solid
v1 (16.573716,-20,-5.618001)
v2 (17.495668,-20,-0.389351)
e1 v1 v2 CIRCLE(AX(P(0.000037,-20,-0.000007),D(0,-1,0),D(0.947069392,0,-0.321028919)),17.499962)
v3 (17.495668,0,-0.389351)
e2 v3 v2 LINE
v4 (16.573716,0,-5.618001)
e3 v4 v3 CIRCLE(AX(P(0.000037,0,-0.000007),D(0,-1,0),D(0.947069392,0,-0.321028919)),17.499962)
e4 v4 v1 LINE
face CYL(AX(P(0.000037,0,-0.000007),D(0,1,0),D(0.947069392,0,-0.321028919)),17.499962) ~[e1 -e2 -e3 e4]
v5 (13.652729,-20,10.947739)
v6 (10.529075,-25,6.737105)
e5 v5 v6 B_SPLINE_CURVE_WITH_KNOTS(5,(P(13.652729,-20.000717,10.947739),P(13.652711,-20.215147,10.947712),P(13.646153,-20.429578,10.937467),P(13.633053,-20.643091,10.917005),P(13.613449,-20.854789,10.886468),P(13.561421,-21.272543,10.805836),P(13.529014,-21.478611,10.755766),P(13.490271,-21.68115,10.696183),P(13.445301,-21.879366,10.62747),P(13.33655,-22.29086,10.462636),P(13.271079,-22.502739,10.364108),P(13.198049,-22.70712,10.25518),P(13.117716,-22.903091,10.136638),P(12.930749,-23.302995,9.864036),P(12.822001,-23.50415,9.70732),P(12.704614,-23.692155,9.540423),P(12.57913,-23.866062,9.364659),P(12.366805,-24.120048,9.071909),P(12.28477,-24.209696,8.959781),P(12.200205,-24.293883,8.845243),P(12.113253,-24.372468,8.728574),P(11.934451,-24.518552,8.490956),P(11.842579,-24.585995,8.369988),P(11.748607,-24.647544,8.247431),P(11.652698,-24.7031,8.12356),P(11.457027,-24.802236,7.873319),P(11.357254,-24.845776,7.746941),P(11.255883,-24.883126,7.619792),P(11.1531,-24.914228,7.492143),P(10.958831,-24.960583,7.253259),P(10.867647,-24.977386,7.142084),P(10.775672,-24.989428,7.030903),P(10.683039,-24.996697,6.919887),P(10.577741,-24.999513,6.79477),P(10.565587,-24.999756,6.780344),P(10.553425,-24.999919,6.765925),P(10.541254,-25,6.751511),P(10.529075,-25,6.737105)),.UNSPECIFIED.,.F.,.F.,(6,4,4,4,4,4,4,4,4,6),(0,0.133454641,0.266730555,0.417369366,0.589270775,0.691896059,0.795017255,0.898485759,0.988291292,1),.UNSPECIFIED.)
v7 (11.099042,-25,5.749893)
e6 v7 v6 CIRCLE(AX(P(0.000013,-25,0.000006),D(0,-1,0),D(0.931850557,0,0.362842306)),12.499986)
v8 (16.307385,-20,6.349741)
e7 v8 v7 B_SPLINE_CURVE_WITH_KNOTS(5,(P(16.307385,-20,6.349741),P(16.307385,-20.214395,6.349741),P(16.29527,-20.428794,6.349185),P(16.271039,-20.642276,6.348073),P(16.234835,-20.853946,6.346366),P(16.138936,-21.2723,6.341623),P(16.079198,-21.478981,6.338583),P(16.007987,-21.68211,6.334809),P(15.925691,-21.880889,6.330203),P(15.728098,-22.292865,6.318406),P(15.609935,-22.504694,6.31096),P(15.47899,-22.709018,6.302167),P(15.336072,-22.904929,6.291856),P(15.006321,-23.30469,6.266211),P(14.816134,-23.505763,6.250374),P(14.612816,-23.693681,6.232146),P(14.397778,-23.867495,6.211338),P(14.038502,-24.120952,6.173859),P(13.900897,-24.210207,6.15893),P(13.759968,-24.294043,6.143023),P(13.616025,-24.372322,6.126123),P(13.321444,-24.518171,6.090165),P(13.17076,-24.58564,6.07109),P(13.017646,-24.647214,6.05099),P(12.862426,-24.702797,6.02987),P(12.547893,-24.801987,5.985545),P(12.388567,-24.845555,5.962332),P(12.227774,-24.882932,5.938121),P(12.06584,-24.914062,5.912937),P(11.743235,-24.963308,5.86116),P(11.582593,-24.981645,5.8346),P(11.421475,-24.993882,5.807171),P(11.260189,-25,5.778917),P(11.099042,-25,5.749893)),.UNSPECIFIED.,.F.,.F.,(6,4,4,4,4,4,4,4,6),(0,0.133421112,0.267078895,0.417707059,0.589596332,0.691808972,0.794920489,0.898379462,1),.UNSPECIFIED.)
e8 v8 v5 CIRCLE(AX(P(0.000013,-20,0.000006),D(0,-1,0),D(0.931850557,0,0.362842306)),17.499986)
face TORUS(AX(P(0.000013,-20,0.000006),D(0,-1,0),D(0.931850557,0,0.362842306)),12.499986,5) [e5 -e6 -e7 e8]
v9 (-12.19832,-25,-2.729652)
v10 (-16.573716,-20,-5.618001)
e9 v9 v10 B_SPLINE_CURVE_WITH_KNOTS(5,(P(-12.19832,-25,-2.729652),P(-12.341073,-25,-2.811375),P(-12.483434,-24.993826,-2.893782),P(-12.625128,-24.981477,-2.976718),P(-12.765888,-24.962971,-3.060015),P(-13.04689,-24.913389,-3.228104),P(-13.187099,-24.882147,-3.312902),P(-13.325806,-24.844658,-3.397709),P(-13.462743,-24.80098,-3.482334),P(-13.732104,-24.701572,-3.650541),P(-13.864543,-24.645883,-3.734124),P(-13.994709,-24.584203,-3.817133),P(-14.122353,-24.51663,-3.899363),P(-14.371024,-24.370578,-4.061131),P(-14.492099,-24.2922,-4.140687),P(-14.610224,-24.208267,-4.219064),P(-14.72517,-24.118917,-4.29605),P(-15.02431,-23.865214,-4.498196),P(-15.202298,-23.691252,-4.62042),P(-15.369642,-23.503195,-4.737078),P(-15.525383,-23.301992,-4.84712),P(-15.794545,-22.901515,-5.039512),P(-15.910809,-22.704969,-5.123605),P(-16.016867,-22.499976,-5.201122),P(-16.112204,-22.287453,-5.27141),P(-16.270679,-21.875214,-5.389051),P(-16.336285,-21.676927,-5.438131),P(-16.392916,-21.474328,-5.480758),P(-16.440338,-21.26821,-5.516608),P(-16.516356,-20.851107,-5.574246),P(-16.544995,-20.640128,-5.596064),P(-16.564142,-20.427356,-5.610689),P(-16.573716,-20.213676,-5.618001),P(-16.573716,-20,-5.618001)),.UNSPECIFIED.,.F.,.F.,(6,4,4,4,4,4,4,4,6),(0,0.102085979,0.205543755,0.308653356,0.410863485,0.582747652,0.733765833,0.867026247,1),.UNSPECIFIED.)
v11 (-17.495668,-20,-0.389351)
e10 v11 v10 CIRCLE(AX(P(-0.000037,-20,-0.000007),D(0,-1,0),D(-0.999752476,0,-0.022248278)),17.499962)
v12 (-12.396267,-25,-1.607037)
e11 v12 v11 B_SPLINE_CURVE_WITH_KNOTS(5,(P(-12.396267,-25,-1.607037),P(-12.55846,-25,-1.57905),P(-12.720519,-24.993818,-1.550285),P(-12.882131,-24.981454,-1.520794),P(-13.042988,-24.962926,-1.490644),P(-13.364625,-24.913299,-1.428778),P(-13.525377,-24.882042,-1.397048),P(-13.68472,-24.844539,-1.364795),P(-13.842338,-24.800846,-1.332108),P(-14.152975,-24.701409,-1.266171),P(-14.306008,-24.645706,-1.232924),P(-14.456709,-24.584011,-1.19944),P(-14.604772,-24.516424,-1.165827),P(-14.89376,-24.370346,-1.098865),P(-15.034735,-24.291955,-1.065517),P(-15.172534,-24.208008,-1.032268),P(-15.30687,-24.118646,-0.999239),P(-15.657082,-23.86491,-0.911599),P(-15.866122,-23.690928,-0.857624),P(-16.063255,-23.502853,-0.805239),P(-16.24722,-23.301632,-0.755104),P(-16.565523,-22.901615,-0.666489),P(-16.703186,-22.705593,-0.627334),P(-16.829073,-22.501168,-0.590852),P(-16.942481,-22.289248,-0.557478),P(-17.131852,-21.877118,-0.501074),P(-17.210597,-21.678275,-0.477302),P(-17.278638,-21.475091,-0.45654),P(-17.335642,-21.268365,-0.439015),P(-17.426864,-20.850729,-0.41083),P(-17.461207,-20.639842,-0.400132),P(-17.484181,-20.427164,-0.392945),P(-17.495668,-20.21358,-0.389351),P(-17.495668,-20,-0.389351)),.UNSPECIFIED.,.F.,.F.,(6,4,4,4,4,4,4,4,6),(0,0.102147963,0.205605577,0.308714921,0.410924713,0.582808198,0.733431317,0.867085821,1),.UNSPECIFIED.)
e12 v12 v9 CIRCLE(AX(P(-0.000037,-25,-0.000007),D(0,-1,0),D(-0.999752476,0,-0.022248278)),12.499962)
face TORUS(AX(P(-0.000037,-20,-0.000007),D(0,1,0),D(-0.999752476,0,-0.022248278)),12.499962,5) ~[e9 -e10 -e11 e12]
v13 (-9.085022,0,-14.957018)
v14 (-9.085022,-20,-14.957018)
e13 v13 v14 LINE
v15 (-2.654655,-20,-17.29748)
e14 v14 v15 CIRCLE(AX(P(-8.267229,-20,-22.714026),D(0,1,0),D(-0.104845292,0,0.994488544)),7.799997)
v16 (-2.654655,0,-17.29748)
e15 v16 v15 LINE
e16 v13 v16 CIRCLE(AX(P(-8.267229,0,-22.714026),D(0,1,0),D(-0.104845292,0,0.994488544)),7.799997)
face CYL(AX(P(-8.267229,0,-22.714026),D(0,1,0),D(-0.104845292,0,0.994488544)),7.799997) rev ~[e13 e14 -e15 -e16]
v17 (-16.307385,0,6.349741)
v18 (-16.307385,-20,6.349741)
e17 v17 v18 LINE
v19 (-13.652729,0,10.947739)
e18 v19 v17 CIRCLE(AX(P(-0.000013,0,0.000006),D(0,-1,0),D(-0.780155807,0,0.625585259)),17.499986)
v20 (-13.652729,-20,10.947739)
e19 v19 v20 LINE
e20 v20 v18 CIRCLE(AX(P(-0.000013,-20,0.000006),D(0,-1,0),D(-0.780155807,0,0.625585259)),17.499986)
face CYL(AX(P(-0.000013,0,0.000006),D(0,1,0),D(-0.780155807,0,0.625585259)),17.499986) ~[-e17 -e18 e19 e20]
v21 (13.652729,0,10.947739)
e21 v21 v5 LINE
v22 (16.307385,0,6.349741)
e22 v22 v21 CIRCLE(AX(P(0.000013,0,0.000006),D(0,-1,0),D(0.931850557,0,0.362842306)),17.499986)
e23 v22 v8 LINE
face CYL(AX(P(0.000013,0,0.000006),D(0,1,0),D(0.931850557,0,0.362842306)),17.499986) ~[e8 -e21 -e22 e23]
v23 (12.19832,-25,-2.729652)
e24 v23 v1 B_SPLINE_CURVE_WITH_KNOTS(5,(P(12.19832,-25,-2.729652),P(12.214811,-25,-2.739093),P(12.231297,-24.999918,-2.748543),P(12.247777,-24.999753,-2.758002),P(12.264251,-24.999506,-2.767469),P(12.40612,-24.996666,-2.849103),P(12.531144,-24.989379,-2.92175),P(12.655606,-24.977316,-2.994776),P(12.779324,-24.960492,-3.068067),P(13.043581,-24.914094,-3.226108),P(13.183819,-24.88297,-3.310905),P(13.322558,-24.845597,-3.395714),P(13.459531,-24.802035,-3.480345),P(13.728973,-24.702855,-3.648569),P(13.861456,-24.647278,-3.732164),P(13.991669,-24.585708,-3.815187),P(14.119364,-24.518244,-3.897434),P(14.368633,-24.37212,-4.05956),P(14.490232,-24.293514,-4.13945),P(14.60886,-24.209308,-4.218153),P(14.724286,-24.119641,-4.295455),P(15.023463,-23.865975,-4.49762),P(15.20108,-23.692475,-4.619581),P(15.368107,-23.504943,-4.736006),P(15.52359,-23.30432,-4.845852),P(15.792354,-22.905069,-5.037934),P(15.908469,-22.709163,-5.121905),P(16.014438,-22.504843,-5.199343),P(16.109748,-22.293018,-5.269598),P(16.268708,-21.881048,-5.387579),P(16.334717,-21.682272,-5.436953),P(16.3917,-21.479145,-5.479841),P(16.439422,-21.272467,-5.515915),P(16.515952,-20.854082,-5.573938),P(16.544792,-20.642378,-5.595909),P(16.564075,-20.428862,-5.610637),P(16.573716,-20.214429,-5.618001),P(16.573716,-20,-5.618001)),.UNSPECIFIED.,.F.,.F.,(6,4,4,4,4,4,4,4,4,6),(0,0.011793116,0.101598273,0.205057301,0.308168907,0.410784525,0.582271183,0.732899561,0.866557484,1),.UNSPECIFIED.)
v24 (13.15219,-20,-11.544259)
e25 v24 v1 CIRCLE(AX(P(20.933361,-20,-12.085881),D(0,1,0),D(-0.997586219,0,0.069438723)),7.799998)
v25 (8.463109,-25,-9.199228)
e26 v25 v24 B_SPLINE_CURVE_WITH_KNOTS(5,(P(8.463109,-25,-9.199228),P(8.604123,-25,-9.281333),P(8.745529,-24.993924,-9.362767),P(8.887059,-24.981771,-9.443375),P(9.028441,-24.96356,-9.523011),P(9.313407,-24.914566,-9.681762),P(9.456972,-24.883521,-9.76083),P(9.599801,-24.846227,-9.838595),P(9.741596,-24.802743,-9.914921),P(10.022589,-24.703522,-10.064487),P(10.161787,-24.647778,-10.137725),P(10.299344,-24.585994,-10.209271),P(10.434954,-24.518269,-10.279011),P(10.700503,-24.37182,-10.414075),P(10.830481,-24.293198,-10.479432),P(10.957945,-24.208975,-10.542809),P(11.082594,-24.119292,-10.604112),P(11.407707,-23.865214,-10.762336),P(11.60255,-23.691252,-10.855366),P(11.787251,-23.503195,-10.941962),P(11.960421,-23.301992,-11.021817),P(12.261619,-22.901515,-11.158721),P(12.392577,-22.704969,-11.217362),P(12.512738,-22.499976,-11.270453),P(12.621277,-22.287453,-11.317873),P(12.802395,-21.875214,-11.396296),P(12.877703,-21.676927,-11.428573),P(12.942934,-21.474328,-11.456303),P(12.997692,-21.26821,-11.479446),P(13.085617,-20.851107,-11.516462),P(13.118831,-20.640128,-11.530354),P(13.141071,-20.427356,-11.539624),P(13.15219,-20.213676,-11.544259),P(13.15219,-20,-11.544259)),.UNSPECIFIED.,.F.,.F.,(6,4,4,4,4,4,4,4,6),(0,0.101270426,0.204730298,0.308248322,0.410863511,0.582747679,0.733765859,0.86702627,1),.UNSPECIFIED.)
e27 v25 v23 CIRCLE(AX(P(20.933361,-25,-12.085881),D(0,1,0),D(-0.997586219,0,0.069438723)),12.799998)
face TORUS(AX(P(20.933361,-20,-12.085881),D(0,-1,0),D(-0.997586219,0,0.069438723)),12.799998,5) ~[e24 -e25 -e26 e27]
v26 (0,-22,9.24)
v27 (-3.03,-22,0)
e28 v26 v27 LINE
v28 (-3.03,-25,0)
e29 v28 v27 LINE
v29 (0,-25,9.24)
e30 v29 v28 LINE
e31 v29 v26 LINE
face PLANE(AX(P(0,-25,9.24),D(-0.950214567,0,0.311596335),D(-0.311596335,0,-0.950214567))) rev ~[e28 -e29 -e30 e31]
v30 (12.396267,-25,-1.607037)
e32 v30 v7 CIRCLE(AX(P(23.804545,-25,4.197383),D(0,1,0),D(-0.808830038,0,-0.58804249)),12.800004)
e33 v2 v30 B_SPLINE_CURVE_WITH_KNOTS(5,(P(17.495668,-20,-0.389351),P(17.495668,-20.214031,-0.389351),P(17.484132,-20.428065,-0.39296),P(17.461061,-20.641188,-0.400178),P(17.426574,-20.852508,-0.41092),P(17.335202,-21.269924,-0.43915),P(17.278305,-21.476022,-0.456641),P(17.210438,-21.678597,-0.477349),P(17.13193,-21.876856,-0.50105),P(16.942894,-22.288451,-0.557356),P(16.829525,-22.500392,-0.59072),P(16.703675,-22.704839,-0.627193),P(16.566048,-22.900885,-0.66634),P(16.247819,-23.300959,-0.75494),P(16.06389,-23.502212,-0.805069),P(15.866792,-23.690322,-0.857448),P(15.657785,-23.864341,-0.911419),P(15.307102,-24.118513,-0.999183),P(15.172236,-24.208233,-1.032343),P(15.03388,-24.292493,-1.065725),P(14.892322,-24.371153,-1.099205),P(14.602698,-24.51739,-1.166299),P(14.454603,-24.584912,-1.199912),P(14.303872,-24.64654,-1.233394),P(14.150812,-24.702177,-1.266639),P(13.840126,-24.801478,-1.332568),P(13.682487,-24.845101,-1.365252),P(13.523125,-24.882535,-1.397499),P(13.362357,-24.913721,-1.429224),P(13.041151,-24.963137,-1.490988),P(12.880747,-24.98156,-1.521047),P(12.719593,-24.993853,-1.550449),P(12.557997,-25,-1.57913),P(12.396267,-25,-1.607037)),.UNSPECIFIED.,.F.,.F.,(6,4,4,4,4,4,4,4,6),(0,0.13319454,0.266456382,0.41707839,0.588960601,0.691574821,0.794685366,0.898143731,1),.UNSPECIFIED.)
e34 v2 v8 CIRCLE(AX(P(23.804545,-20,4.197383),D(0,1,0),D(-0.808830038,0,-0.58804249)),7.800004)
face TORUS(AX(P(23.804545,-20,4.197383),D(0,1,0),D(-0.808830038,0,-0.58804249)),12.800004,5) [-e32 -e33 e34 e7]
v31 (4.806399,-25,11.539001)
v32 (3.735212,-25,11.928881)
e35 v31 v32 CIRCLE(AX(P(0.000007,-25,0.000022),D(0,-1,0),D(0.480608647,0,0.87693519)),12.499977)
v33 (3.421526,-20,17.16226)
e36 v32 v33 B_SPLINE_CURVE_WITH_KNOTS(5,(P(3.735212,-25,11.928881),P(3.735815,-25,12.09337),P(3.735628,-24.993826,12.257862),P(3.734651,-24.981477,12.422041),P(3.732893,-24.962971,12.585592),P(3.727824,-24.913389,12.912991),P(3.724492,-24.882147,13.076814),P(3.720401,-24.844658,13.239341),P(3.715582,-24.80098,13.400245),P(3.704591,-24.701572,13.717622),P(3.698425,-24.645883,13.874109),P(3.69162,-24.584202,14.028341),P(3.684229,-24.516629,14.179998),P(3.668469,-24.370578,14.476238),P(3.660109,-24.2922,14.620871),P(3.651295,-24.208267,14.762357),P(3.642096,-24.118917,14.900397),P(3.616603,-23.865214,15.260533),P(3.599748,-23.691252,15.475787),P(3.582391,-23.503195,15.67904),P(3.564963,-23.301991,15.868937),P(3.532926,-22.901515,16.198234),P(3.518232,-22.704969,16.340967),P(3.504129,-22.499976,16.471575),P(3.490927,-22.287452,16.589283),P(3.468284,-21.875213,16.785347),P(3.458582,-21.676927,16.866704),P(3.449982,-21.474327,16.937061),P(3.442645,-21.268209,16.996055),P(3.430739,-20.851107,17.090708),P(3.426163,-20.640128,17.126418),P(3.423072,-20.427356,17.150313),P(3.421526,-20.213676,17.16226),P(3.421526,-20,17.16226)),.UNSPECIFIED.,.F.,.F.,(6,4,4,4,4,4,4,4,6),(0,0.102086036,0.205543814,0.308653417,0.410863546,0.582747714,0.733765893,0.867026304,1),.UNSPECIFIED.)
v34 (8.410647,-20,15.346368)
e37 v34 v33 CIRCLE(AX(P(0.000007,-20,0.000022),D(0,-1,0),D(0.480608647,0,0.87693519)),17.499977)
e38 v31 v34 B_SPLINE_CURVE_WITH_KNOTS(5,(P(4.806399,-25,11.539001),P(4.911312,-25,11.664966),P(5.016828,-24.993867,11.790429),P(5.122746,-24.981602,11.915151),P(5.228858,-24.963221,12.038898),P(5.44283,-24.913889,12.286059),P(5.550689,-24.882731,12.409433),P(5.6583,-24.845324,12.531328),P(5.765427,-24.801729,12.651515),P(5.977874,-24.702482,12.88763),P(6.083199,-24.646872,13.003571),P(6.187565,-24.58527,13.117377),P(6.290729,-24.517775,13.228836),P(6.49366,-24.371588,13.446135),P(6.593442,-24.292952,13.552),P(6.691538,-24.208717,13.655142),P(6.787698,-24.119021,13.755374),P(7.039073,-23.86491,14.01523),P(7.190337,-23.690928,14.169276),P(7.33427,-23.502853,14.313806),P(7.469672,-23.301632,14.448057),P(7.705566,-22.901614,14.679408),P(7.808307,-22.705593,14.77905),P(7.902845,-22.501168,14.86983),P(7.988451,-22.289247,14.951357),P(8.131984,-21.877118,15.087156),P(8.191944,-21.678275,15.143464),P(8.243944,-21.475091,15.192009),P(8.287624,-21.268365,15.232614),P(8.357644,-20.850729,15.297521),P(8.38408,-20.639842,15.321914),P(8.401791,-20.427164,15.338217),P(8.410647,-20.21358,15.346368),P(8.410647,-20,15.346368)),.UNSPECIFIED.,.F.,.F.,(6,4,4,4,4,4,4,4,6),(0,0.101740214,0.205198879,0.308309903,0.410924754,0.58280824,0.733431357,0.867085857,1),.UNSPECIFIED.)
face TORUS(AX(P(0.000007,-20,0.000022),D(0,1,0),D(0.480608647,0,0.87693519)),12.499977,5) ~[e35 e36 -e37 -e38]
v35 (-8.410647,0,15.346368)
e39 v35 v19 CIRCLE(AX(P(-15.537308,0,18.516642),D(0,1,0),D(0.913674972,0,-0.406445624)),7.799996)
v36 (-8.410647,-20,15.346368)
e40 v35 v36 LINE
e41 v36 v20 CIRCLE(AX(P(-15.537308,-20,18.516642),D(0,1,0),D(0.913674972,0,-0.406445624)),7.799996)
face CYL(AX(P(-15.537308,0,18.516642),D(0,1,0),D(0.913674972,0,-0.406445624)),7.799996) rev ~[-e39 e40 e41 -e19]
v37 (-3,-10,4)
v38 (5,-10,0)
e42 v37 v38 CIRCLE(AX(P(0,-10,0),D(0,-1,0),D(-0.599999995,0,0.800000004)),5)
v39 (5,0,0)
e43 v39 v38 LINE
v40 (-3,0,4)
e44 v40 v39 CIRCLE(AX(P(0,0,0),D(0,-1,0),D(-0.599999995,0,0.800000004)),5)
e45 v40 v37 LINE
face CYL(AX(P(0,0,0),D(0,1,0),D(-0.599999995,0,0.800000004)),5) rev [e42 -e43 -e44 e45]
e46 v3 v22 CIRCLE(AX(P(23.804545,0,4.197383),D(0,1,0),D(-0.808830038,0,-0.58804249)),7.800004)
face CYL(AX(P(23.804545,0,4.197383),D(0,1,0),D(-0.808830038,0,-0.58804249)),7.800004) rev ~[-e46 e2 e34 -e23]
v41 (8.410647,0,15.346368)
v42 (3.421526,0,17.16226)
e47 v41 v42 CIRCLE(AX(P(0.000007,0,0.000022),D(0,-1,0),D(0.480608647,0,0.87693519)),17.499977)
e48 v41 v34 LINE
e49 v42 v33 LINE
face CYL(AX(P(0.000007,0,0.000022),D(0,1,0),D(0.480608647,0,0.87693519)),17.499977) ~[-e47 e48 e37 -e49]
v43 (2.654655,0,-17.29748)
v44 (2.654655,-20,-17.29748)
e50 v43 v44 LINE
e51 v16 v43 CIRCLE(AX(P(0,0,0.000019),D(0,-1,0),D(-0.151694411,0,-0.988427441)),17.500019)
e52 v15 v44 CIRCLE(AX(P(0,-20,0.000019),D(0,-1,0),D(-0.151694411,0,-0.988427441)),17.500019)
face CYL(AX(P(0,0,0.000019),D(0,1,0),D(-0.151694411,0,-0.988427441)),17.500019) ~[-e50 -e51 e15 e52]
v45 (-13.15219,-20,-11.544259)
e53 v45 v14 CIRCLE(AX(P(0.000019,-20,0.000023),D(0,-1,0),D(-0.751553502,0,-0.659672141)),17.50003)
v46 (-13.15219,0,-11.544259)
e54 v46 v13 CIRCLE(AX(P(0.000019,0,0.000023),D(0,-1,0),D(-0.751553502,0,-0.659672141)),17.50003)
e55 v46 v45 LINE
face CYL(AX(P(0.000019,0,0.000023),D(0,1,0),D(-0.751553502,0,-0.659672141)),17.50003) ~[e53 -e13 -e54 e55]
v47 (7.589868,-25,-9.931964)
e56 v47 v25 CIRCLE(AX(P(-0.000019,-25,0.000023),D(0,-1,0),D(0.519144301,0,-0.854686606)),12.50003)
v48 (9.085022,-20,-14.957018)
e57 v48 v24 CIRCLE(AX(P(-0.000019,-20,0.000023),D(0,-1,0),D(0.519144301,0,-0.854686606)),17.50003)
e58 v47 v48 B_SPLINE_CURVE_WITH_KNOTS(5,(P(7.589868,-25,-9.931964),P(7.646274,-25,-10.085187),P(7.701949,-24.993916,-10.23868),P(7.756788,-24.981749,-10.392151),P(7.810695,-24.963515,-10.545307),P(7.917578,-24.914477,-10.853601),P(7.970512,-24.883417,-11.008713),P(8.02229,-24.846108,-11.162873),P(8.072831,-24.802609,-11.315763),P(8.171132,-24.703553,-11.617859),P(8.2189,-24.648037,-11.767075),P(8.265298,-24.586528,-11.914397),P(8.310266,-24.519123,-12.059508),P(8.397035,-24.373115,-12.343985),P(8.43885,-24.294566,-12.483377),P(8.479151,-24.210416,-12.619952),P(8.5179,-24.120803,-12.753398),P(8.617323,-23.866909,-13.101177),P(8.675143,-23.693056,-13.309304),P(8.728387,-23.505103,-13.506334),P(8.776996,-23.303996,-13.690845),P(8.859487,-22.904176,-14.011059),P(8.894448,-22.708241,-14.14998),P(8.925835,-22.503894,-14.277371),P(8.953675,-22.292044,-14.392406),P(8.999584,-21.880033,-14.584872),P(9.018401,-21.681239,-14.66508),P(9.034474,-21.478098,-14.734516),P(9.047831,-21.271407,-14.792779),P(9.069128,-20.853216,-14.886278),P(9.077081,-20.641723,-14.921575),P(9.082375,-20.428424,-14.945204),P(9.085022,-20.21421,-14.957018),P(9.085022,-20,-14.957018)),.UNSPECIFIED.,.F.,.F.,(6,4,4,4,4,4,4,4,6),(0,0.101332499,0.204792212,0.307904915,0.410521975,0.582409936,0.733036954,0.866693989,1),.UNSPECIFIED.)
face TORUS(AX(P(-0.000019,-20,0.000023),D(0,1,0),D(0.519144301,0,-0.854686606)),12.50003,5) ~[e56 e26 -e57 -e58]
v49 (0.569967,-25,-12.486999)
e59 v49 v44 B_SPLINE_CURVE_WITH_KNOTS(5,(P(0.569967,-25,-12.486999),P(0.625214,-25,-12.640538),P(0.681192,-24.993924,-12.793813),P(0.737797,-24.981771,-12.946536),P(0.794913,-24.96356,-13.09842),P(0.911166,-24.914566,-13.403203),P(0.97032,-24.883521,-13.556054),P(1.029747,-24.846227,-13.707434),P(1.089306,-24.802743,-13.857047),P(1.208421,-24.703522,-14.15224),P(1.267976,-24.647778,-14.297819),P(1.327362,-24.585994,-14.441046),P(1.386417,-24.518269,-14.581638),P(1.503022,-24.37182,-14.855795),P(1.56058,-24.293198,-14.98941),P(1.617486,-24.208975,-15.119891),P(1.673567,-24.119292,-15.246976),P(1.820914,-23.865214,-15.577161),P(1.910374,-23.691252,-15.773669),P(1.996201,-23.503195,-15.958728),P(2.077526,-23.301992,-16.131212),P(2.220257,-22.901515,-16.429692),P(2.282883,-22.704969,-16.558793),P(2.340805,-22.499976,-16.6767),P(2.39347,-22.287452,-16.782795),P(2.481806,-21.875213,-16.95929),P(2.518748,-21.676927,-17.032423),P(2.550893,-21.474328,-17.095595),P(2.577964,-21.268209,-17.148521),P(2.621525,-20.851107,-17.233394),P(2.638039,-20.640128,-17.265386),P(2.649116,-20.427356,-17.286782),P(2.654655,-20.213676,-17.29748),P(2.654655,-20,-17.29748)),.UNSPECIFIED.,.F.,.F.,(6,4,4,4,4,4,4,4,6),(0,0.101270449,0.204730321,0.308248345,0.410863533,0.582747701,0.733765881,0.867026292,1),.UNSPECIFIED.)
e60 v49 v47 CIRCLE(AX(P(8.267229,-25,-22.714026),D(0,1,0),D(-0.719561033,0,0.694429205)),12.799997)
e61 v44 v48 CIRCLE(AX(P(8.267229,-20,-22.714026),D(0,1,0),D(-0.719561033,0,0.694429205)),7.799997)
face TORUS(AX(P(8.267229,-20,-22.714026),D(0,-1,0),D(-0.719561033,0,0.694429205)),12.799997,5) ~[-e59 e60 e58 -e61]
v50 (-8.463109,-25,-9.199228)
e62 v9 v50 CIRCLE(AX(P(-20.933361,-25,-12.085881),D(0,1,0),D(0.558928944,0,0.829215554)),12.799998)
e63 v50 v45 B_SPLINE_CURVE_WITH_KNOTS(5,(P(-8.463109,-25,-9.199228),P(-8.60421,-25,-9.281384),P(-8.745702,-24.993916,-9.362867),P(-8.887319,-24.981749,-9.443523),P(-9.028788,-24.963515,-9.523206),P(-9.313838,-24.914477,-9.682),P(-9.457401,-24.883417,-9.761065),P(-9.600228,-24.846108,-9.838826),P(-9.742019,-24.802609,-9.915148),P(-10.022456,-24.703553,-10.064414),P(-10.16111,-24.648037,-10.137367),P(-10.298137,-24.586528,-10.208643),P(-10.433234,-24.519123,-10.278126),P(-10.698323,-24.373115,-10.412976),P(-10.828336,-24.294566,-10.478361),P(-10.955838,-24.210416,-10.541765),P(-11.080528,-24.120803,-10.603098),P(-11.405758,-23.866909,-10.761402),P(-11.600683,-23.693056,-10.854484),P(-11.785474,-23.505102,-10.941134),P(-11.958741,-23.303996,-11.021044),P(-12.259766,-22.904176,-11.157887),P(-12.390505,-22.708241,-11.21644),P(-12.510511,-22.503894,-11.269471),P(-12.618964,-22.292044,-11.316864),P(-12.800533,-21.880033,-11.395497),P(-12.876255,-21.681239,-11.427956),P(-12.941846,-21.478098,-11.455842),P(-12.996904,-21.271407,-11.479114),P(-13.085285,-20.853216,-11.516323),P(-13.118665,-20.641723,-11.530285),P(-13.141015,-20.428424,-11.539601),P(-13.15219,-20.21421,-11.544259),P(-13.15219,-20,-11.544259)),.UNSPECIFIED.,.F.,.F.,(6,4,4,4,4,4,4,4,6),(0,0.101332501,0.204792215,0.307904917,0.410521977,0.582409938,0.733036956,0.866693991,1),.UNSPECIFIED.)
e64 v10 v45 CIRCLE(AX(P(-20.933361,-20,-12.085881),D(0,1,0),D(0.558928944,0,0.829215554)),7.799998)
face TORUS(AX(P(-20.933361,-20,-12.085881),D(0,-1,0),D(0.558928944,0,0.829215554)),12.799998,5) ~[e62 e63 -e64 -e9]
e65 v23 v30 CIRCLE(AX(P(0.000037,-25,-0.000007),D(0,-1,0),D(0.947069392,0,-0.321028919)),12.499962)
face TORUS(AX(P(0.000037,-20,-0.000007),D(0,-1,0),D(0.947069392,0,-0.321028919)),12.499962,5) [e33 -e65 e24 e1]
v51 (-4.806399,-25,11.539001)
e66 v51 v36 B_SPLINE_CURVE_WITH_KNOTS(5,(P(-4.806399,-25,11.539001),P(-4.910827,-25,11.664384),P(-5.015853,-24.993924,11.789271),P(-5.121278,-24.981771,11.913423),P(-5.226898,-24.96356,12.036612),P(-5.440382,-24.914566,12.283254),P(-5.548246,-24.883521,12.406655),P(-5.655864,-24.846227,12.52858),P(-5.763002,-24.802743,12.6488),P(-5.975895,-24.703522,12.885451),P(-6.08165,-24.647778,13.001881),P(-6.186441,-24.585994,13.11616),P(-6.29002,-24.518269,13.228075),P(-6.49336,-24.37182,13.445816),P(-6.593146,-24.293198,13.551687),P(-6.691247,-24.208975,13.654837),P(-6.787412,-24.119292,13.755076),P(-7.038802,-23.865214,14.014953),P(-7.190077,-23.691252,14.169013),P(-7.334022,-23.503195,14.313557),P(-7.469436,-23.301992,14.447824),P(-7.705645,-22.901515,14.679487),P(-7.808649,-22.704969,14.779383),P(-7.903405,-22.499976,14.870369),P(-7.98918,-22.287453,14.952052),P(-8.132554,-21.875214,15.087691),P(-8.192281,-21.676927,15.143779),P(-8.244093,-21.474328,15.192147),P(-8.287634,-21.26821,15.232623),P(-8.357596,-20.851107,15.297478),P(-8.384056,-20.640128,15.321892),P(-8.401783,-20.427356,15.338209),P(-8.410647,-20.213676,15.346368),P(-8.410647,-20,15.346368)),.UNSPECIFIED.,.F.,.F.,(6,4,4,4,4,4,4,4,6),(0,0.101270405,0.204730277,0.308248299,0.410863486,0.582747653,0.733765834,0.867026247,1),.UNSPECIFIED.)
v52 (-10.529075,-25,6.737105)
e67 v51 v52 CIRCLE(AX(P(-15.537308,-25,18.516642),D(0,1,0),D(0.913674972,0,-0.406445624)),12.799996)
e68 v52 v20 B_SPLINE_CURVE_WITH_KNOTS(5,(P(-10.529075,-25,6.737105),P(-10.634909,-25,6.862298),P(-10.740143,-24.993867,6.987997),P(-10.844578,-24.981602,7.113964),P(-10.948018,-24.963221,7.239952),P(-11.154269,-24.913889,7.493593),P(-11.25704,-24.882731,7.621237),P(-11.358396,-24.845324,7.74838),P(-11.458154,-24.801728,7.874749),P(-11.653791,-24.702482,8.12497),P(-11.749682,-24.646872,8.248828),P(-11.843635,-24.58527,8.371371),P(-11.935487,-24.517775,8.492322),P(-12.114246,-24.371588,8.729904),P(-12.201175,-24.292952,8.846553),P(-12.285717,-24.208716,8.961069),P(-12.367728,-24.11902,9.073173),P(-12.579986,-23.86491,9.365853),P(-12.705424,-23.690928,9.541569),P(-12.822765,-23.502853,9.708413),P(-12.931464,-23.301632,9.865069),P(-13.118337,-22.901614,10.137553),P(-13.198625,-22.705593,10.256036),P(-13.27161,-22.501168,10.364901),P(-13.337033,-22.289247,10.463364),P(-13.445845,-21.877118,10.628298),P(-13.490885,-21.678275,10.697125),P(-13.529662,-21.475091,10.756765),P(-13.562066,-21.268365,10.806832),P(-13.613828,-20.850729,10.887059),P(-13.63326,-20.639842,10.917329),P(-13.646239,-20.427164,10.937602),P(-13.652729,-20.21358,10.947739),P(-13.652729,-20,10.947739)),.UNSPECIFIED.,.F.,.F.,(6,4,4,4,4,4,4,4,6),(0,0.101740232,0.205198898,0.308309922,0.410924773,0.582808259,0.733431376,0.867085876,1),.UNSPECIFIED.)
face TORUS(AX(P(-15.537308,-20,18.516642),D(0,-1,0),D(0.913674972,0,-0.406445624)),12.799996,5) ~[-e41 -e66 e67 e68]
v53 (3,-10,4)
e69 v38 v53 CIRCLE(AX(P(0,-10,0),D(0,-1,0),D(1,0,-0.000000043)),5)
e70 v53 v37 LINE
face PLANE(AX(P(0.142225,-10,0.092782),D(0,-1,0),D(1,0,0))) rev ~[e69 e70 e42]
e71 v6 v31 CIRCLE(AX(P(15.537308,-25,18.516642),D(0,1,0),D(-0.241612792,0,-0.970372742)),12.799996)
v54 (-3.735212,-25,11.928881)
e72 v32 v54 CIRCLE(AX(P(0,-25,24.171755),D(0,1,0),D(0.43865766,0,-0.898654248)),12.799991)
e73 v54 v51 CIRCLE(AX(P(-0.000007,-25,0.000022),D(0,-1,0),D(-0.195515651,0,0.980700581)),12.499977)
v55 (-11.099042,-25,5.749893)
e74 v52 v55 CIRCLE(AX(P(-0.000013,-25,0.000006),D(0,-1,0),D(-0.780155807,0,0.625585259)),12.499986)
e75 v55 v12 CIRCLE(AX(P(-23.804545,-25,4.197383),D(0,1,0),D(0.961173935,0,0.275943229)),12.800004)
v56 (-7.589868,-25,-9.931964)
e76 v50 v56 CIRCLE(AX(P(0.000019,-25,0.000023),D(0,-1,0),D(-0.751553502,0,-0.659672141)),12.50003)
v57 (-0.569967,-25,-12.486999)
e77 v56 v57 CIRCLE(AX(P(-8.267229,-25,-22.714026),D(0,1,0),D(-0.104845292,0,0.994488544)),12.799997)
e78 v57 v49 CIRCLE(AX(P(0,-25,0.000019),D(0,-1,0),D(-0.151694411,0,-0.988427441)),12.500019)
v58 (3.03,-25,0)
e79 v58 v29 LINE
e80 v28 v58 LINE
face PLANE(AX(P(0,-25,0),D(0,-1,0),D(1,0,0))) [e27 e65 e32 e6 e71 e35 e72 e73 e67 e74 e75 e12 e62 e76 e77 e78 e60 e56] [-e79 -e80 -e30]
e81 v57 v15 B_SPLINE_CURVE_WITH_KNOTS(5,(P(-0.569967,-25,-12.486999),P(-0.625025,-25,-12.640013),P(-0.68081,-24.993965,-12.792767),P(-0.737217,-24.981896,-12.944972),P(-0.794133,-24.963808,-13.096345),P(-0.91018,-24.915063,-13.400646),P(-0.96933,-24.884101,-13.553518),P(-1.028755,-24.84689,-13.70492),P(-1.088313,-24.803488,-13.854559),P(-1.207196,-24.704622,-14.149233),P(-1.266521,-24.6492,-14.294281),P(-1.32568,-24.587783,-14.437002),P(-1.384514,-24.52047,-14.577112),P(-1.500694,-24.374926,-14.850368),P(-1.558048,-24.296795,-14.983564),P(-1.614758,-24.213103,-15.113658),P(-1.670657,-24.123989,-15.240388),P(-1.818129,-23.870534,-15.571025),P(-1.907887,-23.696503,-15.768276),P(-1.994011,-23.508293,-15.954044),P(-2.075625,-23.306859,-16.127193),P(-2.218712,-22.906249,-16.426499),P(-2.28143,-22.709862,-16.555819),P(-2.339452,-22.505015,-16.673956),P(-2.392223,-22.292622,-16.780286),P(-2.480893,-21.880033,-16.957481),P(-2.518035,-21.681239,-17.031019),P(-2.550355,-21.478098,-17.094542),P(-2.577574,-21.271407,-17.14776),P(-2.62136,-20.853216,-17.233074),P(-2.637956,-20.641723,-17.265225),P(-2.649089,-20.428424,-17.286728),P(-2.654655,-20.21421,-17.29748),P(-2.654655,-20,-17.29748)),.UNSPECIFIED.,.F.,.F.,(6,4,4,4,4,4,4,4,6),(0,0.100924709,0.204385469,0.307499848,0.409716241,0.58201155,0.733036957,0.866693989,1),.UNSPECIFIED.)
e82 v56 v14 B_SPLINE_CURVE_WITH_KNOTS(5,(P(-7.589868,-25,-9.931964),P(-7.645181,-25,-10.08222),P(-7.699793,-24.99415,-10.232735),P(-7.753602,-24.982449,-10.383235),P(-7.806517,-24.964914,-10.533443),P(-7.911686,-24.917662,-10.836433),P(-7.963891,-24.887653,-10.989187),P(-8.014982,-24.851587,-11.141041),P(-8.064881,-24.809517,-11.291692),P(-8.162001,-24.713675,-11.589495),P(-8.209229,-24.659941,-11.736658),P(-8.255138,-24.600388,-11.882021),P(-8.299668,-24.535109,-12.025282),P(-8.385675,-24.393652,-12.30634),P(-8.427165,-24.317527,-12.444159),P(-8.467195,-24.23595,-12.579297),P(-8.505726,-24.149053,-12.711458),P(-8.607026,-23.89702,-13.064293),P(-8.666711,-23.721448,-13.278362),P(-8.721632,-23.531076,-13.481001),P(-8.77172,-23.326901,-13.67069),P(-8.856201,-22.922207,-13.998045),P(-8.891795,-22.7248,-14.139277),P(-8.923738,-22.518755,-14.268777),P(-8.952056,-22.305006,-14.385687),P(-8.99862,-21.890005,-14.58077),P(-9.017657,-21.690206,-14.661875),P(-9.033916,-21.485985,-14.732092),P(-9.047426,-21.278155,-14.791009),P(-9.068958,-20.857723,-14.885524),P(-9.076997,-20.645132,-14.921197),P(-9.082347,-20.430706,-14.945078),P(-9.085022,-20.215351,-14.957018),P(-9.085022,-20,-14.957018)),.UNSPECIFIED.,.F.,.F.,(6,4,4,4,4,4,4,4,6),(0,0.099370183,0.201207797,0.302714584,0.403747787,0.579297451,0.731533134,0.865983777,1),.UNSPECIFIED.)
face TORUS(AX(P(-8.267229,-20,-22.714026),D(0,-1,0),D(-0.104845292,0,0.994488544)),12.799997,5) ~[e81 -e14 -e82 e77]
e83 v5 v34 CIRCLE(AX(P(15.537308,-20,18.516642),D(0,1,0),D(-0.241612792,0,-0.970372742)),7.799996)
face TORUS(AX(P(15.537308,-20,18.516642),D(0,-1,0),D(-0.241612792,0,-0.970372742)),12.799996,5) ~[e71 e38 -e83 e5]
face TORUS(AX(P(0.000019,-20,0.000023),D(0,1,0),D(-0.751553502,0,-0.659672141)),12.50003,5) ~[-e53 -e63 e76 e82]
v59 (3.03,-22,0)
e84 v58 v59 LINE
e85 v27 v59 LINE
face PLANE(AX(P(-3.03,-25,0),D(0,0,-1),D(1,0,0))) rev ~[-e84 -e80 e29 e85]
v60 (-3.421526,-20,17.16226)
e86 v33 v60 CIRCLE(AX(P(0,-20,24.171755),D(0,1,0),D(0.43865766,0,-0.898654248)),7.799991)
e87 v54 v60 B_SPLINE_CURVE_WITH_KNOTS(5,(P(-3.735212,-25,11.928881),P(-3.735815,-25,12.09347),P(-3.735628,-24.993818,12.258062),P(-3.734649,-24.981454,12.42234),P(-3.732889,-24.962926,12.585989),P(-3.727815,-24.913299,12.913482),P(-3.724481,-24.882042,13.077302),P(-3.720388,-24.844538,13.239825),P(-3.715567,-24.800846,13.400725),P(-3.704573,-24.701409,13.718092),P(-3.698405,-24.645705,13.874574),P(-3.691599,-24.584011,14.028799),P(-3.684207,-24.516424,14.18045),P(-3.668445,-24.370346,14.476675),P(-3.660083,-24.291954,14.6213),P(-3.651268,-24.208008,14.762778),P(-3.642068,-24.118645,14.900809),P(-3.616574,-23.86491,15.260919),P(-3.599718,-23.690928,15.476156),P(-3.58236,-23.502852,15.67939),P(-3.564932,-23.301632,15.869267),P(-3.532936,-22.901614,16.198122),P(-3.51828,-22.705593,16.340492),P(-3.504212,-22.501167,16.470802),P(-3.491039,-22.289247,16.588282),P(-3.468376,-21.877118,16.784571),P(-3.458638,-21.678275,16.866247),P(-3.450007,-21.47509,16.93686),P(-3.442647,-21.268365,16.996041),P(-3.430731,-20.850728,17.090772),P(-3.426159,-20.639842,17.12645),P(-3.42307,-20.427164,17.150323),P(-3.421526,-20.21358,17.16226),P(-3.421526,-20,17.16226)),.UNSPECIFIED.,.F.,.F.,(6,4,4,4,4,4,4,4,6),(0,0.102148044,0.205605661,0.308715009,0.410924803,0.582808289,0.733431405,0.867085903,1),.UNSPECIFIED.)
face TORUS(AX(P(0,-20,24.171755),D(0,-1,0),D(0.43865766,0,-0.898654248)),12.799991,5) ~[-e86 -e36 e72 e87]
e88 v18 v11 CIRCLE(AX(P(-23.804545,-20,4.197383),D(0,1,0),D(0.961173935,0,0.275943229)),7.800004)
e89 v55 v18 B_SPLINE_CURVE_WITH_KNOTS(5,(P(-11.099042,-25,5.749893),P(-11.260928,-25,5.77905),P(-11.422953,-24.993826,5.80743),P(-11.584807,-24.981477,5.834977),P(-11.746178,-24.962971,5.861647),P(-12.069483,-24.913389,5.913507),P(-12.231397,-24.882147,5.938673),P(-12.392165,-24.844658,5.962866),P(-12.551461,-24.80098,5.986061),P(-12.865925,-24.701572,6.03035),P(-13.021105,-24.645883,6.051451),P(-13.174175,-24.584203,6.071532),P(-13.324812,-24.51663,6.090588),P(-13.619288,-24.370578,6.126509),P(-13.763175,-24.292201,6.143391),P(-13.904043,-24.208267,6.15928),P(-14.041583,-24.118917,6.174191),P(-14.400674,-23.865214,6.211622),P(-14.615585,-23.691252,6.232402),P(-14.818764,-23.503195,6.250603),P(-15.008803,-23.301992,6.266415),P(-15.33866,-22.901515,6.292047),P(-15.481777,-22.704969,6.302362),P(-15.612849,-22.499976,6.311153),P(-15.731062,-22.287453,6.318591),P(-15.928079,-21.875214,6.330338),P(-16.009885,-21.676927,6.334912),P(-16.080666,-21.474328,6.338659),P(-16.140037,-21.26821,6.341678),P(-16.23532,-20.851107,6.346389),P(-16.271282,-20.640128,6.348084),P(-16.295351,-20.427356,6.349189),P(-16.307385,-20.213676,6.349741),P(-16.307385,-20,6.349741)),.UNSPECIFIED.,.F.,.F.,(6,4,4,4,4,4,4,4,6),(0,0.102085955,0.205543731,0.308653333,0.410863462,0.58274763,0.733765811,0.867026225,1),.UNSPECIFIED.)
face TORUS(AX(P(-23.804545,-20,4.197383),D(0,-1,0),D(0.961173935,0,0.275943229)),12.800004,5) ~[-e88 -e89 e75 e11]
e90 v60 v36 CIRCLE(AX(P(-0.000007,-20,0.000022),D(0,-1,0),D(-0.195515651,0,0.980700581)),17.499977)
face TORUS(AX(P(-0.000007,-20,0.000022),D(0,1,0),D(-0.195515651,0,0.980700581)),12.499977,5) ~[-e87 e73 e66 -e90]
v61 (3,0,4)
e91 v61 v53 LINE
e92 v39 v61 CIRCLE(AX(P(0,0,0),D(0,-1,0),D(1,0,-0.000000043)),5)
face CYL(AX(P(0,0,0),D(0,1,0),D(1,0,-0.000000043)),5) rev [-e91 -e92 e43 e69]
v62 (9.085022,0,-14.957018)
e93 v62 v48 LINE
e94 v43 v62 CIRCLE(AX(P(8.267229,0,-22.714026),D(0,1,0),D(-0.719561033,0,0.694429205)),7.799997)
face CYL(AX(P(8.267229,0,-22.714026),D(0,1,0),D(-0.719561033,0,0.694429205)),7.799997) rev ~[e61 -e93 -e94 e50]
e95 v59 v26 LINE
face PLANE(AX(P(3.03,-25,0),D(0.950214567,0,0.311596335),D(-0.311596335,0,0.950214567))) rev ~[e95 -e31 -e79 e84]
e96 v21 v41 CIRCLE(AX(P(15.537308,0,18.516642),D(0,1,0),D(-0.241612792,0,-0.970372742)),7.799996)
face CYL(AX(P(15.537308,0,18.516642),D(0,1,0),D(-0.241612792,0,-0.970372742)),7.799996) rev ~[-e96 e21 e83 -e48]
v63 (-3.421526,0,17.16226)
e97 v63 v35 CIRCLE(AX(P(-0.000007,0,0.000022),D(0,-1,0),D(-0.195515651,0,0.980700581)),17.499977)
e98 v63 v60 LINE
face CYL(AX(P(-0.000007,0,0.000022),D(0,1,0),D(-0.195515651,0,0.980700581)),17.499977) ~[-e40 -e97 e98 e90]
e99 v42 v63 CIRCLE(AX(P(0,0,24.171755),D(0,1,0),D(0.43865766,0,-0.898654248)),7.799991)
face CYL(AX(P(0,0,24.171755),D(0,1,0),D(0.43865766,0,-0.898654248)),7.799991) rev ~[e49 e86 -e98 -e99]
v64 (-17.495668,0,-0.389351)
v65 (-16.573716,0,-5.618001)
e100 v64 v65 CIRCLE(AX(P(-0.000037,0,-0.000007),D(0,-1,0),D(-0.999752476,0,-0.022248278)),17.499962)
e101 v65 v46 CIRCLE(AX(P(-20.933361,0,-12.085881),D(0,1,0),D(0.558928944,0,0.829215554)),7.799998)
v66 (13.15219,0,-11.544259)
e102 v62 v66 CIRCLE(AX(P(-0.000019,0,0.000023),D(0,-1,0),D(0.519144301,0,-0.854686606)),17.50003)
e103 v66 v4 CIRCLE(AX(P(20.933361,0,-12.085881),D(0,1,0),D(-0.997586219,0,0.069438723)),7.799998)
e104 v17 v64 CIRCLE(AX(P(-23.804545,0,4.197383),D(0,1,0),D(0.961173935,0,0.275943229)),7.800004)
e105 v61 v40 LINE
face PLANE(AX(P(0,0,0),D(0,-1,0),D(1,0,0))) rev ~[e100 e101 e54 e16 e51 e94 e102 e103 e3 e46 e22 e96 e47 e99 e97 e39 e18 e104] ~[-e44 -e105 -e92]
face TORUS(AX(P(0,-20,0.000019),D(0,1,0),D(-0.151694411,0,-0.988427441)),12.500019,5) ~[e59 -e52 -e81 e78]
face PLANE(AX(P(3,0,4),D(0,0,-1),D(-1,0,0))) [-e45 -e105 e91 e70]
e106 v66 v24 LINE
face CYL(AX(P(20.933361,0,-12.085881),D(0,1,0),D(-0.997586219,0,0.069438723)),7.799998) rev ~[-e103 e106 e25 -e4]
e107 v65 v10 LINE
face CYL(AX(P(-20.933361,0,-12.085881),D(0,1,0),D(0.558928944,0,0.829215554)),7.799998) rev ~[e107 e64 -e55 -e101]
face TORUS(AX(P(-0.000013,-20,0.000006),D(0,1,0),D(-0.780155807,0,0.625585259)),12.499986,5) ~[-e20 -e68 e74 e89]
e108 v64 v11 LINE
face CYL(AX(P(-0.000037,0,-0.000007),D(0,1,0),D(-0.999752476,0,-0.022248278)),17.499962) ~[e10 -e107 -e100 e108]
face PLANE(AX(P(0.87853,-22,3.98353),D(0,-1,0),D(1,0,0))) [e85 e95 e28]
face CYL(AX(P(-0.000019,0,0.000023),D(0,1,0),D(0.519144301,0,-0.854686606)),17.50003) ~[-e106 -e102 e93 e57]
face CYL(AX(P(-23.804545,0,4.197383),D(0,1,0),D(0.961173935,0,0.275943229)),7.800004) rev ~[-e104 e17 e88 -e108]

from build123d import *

# Parameters (mm, degrees)
F1_DEPTH = 25
F2_DEPTH = 10
F3_R     = 5
F5_DEPTH = 3


with BuildPart() as f1:
    # F0 (on Front) → F1 (new body)
    with BuildSketch(Plane.XZ):
        with BuildLine():
            ThreePointArc((17.495668, -0.389351), (16.123041, 2.842927), (16.307385, 6.349741))
            ThreePointArc((16.307385, 6.349741), (15.155445, 8.75), (13.652729, 10.947739))
            ThreePointArc((13.652729, 10.947739), (10.523567, 12.541499), (8.410647, 15.346368))
            ThreePointArc((8.410647, 15.346368), (5.985353, 16.444621), (3.421526, 17.16226))
            ThreePointArc((3.421526, 17.16226), (0, 16.371764), (-3.421526, 17.16226))
            ThreePointArc((-3.421526, 17.16226), (-5.985353, 16.444621), (-8.410647, 15.346368))
            ThreePointArc((-8.410647, 15.346368), (-10.523567, 12.541499), (-13.652729, 10.947739))
            ThreePointArc((-13.652729, 10.947739), (-15.155445, 8.75), (-16.307385, 6.349741))
            ThreePointArc((-16.307385, 6.349741), (-16.123041, 2.842927), (-17.495668, -0.389351))
            ThreePointArc((-17.495668, -0.389351), (-17.234136, -3.038843), (-16.573716, -5.618001))
            ThreePointArc((-16.573716, -5.618001), (-14.178364, -8.185882), (-13.15219, -11.544259))
            ThreePointArc((-13.15219, -11.544259), (-11.248783, -13.405778), (-9.085022, -14.957018))
            ThreePointArc((-9.085022, -14.957018), (-5.599473, -15.384426), (-2.654655, -17.29748))
            ThreePointArc((-2.654655, -17.29748), (0, -17.5), (2.654655, -17.29748))
            ThreePointArc((2.654655, -17.29748), (5.599473, -15.384426), (9.085022, -14.957018))
            ThreePointArc((9.085022, -14.957018), (11.248783, -13.405778), (13.15219, -11.544259))
            ThreePointArc((13.15219, -11.544259), (14.178364, -8.185882), (16.573716, -5.618001))
            ThreePointArc((16.573716, -5.618001), (17.234136, -3.038843), (17.495668, -0.389351))
        make_face()
        with BuildLine():
            ThreePointArc((3, 4), (4.472136, 2.236068), (5, 0))
            ThreePointArc((5, 0), (-2.236068, -4.472136), (-3, 4))
            ThreePointArc((-3, 4), (0, 5), (3, 4))
        make_face(mode=Mode.SUBTRACT)
        with BuildLine():
            Line((-3, 4), (3, 4))
            ThreePointArc((3, 4), (0, 5), (-3, 4))
        make_face()
        with BuildLine():
            ThreePointArc((-3, 4), (-2.236068, -4.472136), (5, 0))
            ThreePointArc((5, 0), (4.472136, 2.236068), (3, 4))
            Line((3, 4), (-3, 4))
        make_face()
    extrude(amount=F1_DEPTH)

    # F0 (on Front) → F2 (cut)
    with BuildSketch(Plane.XZ):
        with BuildLine():
            ThreePointArc((-3, 4), (-2.236068, -4.472136), (5, 0))
            ThreePointArc((5, 0), (4.472136, 2.236068), (3, 4))
            Line((3, 4), (-3, 4))
        make_face()
    extrude(amount=F2_DEPTH, mode=Mode.SUBTRACT)

    # F3
    f3_edges = [f1.edges().sort_by_distance(p)[0] for p in [
        (-5.599473, -25, -15.384426),
        (0, -25, -17.5),
        (5.599473, -25, -15.384426),
        (11.248783, -25, -13.405778),
        (14.178364, -25, -8.185882),
        (17.234136, -25, -3.038843),
        (16.123041, -25, 2.842927),
        (15.155445, -25, 8.75),
        (10.523567, -25, 12.541499),
        (5.985353, -25, 16.444621),
        (0, -25, 16.371764),
        (-5.985353, -25, 16.444621),
        (-10.523567, -25, 12.541499),
        (-15.155445, -25, 8.75),
        (-16.123041, -25, 2.842927),
        (-17.234136, -25, -3.038843),
        (-14.178364, -25, -8.185882),
        (-11.248783, -25, -13.405778),
    ]]
    fillet(f3_edges, radius=F3_R)

    # F4 (on face) → F5 (cut)
    with BuildSketch(Plane.XZ.offset(25)):
        Polygon((3.03, 0), (0, 9.24), (0, 0), align=None)
        Polygon((0, 0), (0, 9.24), (-3.03, 0), align=None)
    extrude(amount=-F5_DEPTH, mode=Mode.SUBTRACT)


solid = f1.part
